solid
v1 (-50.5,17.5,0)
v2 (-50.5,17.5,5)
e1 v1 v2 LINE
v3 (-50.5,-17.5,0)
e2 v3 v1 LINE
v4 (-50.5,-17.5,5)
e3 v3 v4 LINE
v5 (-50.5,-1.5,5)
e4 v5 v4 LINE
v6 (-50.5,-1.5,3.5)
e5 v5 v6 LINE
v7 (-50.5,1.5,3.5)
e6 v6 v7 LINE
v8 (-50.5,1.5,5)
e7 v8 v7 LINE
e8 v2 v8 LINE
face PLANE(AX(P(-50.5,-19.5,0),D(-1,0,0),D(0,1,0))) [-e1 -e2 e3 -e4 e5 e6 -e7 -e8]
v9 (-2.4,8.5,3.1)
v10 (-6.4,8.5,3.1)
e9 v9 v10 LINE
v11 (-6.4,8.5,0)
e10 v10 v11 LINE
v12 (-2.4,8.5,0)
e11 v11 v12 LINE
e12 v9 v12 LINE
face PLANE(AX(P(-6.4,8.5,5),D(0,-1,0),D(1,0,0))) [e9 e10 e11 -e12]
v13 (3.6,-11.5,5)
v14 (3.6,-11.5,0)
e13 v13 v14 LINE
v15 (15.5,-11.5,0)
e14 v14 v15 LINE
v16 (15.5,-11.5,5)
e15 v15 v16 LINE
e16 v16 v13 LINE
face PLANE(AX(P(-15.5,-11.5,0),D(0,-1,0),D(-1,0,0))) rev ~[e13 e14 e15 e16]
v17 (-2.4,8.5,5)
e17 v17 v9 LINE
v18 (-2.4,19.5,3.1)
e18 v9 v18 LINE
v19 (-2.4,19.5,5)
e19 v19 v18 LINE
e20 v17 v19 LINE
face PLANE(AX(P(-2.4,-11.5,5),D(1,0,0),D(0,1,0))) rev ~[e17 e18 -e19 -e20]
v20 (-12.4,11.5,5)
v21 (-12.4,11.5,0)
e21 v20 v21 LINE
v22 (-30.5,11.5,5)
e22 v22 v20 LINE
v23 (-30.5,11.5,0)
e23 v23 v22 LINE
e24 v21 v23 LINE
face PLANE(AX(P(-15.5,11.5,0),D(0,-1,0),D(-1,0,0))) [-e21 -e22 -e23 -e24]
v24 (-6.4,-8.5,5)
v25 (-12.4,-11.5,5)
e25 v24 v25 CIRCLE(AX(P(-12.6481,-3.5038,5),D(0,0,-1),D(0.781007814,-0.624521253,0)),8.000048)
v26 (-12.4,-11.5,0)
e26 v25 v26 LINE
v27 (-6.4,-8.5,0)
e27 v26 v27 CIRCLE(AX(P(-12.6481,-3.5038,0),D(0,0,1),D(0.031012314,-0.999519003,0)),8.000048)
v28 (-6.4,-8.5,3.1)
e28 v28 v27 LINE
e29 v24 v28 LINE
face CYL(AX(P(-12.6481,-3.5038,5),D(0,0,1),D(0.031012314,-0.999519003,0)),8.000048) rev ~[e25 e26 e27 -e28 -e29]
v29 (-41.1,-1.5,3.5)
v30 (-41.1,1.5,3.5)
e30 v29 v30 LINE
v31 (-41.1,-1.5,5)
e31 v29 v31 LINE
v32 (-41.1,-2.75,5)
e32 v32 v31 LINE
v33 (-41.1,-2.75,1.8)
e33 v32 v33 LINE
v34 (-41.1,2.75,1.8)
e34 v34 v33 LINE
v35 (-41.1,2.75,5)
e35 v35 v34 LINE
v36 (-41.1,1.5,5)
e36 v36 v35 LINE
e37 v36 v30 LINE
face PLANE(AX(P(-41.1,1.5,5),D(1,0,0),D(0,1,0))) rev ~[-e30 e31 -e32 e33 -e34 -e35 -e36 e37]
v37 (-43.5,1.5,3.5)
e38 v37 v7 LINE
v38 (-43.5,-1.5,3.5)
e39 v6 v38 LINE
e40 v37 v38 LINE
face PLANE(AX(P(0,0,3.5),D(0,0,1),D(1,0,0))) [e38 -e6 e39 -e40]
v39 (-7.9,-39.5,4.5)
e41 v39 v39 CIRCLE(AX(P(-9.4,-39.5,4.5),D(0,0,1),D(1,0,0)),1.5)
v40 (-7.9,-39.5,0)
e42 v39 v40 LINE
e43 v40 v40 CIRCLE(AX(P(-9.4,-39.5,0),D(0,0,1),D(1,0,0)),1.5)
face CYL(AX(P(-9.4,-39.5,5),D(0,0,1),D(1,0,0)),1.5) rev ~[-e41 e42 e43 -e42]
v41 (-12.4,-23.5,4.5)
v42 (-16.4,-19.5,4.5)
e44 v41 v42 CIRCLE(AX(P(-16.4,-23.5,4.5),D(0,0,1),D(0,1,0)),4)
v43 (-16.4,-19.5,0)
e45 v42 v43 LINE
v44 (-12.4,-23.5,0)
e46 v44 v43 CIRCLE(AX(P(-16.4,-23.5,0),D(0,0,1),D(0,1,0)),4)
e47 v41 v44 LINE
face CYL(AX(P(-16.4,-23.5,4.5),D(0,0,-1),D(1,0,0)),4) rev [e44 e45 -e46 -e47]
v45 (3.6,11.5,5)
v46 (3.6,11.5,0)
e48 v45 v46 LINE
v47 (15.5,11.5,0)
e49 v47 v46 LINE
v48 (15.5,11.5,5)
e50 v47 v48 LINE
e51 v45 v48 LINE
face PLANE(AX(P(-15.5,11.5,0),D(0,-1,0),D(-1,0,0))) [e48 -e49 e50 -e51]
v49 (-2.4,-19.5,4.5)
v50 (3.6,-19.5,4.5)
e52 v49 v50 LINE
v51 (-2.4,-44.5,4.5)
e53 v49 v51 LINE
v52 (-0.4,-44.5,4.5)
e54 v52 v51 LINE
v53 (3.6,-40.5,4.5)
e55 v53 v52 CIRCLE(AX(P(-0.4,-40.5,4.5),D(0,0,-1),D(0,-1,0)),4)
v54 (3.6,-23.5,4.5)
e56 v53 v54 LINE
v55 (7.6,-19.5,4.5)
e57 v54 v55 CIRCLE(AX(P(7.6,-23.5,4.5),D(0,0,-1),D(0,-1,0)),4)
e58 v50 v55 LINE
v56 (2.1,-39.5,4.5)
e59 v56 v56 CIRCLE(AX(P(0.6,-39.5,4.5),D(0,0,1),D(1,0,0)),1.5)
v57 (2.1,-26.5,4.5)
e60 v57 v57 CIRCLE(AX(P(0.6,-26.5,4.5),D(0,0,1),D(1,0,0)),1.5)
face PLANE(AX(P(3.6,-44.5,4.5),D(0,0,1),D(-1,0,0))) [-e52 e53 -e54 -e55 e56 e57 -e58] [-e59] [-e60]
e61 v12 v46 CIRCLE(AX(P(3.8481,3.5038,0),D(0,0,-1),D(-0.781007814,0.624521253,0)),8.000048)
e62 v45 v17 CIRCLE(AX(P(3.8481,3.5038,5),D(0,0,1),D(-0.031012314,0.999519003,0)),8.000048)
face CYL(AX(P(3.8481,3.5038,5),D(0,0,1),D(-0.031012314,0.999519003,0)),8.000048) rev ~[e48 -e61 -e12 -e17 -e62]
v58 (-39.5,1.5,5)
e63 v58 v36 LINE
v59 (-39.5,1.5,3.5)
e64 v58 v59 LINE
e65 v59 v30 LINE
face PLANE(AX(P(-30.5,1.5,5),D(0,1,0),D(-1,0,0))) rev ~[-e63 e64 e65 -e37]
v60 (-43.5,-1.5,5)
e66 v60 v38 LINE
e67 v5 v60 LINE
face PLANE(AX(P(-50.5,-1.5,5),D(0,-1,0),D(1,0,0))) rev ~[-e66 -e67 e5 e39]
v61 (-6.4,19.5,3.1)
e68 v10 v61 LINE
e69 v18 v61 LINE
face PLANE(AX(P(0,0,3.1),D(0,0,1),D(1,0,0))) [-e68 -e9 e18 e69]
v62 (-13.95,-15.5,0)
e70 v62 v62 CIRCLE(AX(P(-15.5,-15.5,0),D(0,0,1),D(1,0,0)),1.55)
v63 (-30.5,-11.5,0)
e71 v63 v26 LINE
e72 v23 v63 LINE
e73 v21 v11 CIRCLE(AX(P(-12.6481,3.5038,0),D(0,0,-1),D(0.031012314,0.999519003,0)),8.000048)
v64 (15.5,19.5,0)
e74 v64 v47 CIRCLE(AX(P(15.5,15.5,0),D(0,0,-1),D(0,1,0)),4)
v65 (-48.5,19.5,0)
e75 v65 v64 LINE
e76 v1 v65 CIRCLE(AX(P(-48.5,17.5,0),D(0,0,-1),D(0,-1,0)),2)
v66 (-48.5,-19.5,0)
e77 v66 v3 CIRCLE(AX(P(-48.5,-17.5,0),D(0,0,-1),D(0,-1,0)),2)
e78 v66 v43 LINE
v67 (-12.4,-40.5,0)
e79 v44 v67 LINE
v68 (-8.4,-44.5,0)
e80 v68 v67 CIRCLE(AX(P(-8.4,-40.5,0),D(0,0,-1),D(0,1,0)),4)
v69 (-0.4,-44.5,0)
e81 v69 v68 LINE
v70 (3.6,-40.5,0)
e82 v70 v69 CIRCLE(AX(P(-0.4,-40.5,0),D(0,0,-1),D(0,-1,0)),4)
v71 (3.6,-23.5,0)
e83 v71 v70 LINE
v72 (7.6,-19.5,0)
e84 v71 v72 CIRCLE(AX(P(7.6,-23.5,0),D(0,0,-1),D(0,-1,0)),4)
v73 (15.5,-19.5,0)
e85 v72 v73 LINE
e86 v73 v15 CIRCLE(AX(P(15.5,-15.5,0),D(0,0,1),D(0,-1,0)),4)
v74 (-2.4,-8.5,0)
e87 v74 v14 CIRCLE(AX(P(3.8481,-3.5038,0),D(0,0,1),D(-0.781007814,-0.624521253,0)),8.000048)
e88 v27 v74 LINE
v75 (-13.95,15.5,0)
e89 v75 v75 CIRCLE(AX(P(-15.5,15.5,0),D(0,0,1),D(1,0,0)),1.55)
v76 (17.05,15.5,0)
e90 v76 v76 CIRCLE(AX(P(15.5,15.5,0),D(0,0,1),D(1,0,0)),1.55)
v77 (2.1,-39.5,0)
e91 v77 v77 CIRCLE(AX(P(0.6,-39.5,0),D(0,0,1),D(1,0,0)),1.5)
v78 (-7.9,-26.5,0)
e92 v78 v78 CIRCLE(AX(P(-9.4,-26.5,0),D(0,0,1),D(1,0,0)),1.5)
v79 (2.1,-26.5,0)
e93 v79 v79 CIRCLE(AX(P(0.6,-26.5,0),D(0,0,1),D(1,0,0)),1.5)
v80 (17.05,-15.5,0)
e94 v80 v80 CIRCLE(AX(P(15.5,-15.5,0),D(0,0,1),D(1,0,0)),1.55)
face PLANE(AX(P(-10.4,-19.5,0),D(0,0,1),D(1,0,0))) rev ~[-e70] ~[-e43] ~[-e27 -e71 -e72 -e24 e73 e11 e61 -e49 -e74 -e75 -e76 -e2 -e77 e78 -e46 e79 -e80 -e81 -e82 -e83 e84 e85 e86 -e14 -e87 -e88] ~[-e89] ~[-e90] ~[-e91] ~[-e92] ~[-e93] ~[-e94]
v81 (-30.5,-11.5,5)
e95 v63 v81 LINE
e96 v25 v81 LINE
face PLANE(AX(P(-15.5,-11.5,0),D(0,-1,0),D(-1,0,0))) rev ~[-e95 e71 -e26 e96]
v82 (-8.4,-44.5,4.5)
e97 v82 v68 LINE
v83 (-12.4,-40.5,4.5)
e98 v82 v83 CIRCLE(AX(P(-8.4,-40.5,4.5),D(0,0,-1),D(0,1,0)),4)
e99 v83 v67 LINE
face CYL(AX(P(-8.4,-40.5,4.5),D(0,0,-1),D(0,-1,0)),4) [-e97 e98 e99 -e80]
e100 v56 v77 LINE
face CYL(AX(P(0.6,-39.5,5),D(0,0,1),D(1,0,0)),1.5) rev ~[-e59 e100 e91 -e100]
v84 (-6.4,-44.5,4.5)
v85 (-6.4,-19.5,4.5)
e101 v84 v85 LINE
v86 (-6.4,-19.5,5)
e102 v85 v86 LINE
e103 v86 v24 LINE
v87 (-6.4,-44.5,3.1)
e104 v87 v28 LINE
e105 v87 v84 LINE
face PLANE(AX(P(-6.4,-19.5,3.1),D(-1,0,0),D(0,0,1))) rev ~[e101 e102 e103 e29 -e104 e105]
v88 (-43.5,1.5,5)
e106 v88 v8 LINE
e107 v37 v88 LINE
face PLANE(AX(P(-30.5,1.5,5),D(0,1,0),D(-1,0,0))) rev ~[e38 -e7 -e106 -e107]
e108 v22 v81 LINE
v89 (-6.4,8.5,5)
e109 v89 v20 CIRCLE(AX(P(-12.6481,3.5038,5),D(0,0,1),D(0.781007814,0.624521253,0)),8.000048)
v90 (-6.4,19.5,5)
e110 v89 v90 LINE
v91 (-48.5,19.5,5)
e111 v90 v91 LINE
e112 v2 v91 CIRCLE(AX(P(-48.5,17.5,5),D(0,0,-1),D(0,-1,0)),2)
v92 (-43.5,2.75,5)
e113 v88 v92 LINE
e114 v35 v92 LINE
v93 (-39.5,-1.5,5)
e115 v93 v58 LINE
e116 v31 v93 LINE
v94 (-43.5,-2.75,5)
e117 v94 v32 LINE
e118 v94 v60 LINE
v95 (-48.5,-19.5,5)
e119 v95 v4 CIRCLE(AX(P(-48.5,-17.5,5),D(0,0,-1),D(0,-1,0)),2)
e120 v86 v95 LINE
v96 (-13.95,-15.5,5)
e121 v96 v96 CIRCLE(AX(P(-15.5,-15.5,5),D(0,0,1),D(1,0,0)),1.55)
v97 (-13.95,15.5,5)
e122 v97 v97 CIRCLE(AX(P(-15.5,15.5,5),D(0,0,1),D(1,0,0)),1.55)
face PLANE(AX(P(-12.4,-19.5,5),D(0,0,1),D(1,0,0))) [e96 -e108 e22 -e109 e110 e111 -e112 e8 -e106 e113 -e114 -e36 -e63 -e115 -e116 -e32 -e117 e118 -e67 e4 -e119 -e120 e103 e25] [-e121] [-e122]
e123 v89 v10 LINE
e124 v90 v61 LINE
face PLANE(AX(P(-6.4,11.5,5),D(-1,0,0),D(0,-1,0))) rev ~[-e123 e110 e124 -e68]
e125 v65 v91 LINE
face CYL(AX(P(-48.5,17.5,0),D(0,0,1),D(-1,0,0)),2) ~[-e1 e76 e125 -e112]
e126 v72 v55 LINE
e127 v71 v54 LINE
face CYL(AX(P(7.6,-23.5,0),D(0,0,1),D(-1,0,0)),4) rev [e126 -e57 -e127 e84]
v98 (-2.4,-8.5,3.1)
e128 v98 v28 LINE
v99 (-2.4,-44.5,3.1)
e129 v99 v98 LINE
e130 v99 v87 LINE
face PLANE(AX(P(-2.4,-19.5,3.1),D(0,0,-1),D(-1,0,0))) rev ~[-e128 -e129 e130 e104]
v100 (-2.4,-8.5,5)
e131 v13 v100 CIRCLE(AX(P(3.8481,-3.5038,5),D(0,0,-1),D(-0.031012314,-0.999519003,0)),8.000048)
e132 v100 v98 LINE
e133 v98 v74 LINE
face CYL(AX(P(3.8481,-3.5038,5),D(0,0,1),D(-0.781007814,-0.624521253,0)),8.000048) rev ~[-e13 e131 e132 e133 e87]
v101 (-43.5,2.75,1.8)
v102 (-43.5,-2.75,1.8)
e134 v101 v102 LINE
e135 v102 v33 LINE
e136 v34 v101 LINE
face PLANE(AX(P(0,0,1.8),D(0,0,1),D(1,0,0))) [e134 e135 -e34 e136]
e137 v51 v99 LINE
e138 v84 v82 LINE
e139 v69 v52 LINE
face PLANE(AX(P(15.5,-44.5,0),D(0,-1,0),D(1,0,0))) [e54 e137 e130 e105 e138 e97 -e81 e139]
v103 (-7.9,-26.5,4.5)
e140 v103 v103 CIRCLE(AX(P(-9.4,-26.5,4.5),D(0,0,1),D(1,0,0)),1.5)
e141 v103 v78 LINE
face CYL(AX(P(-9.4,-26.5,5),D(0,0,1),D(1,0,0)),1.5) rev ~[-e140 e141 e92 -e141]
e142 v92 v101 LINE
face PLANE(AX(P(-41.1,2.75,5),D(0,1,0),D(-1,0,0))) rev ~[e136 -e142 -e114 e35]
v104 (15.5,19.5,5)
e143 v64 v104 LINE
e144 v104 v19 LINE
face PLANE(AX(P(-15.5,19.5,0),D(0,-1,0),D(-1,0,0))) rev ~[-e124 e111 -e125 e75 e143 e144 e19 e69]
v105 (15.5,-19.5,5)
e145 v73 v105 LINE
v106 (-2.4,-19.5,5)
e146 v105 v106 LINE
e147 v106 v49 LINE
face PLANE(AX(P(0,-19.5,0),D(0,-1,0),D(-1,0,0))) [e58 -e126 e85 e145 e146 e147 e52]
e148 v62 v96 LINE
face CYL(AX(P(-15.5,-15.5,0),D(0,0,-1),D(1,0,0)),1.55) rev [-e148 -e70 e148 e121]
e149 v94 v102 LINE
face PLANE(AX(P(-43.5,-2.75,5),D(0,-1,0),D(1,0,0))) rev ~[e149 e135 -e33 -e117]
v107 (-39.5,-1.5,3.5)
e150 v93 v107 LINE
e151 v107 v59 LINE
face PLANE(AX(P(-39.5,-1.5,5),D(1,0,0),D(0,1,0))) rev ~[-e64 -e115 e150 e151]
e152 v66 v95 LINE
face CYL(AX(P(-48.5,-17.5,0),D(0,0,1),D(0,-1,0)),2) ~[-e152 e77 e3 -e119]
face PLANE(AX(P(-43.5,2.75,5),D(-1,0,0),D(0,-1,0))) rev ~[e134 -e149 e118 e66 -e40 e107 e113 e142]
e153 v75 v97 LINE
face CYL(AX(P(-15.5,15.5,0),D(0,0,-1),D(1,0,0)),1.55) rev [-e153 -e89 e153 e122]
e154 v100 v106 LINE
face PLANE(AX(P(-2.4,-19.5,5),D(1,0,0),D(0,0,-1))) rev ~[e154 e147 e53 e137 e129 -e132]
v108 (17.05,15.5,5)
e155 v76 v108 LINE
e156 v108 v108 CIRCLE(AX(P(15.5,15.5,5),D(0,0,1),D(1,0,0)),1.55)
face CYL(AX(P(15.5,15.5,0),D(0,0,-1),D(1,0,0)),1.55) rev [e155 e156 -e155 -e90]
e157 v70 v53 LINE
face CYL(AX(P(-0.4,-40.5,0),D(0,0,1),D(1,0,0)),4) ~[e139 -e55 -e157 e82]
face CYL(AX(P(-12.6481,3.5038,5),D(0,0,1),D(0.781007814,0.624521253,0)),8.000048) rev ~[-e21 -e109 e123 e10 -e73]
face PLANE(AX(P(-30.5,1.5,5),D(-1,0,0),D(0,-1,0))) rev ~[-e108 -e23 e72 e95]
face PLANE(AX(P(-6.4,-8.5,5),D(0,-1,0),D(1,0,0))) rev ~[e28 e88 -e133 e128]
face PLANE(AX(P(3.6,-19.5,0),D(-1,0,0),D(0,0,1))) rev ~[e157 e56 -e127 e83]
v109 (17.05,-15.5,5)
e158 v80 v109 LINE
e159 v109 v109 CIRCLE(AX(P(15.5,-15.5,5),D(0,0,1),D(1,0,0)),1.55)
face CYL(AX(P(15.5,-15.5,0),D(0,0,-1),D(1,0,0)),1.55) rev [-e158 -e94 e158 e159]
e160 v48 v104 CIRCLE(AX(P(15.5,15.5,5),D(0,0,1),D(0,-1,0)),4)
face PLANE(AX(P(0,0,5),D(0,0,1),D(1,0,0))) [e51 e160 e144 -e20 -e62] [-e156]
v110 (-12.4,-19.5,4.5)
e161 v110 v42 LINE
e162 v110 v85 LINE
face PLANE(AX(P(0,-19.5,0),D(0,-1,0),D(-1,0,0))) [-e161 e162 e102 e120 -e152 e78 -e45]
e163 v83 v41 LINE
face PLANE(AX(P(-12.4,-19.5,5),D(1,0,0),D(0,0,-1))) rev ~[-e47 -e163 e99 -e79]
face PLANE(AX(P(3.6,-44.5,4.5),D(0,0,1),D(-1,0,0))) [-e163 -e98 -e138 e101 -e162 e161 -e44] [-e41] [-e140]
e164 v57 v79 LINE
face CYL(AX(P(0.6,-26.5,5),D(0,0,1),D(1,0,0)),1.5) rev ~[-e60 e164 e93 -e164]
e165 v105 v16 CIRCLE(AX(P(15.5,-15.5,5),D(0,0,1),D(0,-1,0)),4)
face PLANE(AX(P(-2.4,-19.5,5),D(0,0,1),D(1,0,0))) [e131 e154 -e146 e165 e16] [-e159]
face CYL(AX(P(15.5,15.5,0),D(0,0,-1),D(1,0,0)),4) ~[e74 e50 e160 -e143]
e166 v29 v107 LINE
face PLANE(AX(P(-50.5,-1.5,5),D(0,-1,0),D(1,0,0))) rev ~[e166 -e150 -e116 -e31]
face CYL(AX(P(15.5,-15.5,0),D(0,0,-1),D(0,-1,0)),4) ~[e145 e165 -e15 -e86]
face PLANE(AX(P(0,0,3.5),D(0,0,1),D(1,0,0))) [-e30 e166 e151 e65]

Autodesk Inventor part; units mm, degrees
ref_plane "YZ Plane" through (0, 0, 0) normal (1, 0, 0) x (0, 1, 0)
ref_plane "XZ Plane" through (0, 0, 0) normal (0, 1, 0) x (-1, 0, 0)
sketch "Skizze1" plane through (0, 0, 0) normal (0, 0, 1) x (1, 0, 0)
  line L0 (0, -27.3) -> (0, 27.3) projected
  line L1 (-71.7, 0) -> (34.7, 0) projected
  circle A0 centre (-15.5, 15.5) radius 1.55
  circle A1 centre (15.5, 15.5) radius 1.55
  circle A2 centre (-15.5, -15.5) radius 1.55
  circle A3 centre (15.5, -15.5) radius 1.55
  circle A4 centre (-16.5, 0) radius 11
  circle A5 centre (0, 0) radius 5.5
  circle A6 centre (-16.5, 0) radius 4
  arc A7 (-16.5, -7.5) -> (-16.5, 7.5) centre (-16.5, 0) ccw
  line L2 (-16.5, 7.5) -> (-36.5, 7.5)
  line L3 (-36.5, 7.5) -> (-56.5, 7.5)
  line L4 (-56.5, 7.5) -> (-56.5, -7.5)
  line L5 (-56.5, -7.5) -> (-16.5, -7.5)
  circle A8 centre (15.5, 15.5) radius 4
  circle A9 centre (-15.5, 15.5) radius 4
  line L6 (15.5, 11.5) -> (-15.5, 11.5)
  line L7 (15.5, 19.5) -> (-15.5, 19.5)
  line L8 (-15.5, 19.5) -> (-50.5, 19.5)
  line L9 (-15.5, 11.5) -> (-30.5, 11.5)
  line L10 (-50.5, 19.5) -> (-50.5, 0)
  line L11 (-30.5, 11.5) -> (-30.5, 0)
  line L12 (-15.5, -19.5) -> (-50.5, -19.5)
  line L13 (-15.5, -11.5) -> (-30.5, -11.5)
  line L14 (-50.5, -19.5) -> (-50.5, 0)
  line L15 (-30.5, -11.5) -> (-30.5, 0)
  line L16 (15.5, -11.5) -> (-15.5, -11.5)
  line L17 (15.5, -19.5) -> (-15.5, -19.5)
  line L18 (-15.5, -11.5) -> (15.5, -11.5)
  line L19 (15.5, -19.5) -> (-15.5, -19.5)
  line L20 (-30.5, -11.5) -> (15.5, -11.5)
  line L21 (15.5, -19.5) -> (-50.5, -19.5)
  arc A10 (15.5, -19.5) -> (15.5, -11.5) centre (15.5, -15.5) ccw
  point P0 (-50.5, 7.5)
  point P1 (-30.5, 7.5)
  dimension "d0" = 3.1
  dimension "d1" = 15.5
  dimension "d2" = 15.5
  dimension "d3" = 22
  dimension "d4" = 16.5
  dimension "d5" = 11
  dimension "d6" = 8
  dimension "d7" = 15
  dimension "d10" = 15
  dimension "d11" = 40
  dimension "d17" = 8
  dimension "d19" = 8
  dimension "d22" = 35
  dimension "d23" = 15
ref_plane "Arbeitsebene1" through (0, 0, 5) normal (0, 0, 1) x (1, 0, 0)
extrude "Extrusion5" add sketch "Skizze1" along normal blind 5 contours L17 L12 L14 L5 L15 L13 L16 L0 | L0 L16 A10 L17 | L14 L1 L15 L5 | L10 L3 L2 L11 L1 | L6 A9 L7 L0 | L0 L7 A8 L6 | L2 L3 L10 L8 A9 L9 L11 | A8 | A9
sketch "Skizze4" plane through (0, 0, 5) normal (0, 0, 1) x (1, 0, 0)
  line L0 (-30.5, 11.5) -> (15.5, 11.5) projected
  arc A0 (15.5, 11.5) -> (15.5, 19.5) centre (15.5, 15.5) ccw projected
  line L1 (15.5, 19.5) -> (-50.5, 19.5) projected
  line L2 (-50.5, 19.5) -> (-50.5, -19.5) projected
  line L3 (-50.5, -19.5) -> (15.5, -19.5) projected
  arc A1 (15.5, -19.5) -> (15.5, -11.5) centre (15.5, -15.5) ccw projected
  line L4 (15.5, -11.5) -> (-30.5, -11.5) projected
  line L5 (-30.5, -11.5) -> (-30.5, 11.5) projected
  circle A2 centre (15.5, 15.5) radius 1.55 projected
  circle A3 centre (15.5, -15.5) radius 1.55 projected
  circle A4 centre (-15.5, -15.5) radius 1.55 projected
  circle A5 centre (-15.5, 15.5) radius 1.55 projected
  line L6 (-64.5, 0) -> (33.5, 0) projected
  line L7 (-30.5, -11.5) -> (-30.5, 11.5) projected
  line L8 (-50.5, -1.5) -> (-30.5, -1.5)
  line L9 (-30.5, -1.5) -> (-30.5, 1.5)
  line L10 (-30.5, 1.5) -> (-50.5, 1.5)
  line L11 (-50.5, 1.5) -> (-50.5, -1.5)
  point P0 (0, 0)
  dimension "d34" = 3
extrude "Extrusion8" cut sketch "Skizze4" against normal blind 1.5 contours L5 L6 L2 L10 | L5 L8 L2 L6
sketch "Skizze5" plane through (0, 0, 5) normal (0, 0, 1) x (1, 0, 0)
  line L0 (-50.5, 1.5) -> (-30.5, 1.5) projected
  line L1 (-30.5, 1.5) -> (-30.5, 11.5) projected
  line L2 (-30.5, 11.5) -> (15.5, 11.5) projected
  arc A0 (15.5, 11.5) -> (15.5, 19.5) centre (15.5, 15.5) ccw projected
  line L3 (15.5, 19.5) -> (-50.5, 19.5) projected
  line L4 (-50.5, 19.5) -> (-50.5, 1.5) projected
  circle A1 centre (15.5, 15.5) radius 1.55 projected
  circle A2 centre (-15.5, 15.5) radius 1.55 projected
  circle A3 centre (-15.5, -15.5) radius 1.55 projected
  circle A4 centre (15.5, -15.5) radius 1.55 projected
  line L5 (-30.5, -1.5) -> (-50.5, -1.5) projected
  line L6 (-50.5, -1.5) -> (-50.5, -19.5) projected
  line L7 (-50.5, -19.5) -> (15.5, -19.5) projected
  arc A5 (15.5, -19.5) -> (15.5, -11.5) centre (15.5, -15.5) ccw projected
  line L8 (15.5, -11.5) -> (-30.5, -11.5) projected
  line L9 (-30.5, -11.5) -> (-30.5, -1.5) projected
  line L10 (-30.5, -1.5) -> (-50.5, -1.5) projected
  line L11 (-30.5, 1.5) -> (-30.5, -1.5) projected
  line L12 (-50.5, 1.5) -> (-30.5, 1.5) projected
  line L13 (-50.5, -1.5) -> (-50.5, 1.5) projected
  line L14 (-64.5, 0) -> (33.5, 0) projected
  line L15 (-43.5, -2.75) -> (-41.1, -2.75)
  line L16 (-41.1, -2.75) -> (-41.1, 2.75)
  line L17 (-41.1, 2.75) -> (-43.5, 2.75)
  line L18 (-43.5, 2.75) -> (-43.5, -2.75)
  point P0 (0, 0)
  dimension "d37" = 2.4
  dimension "d38" = 5.5
  dimension "d39" = 7
extrude "Extrusion9" cut sketch "Skizze5" against normal blind 3.2 contours L18 L17 L16 L0 | L0 L16 L14 L18 | L14 L16 L5 L18 | L5 L16 L15 L18
sketch "Skizze6" plane through (0, 0, 5) normal (0, 0, 1) x (1, 0, 0)
  line L0 (15.5, 19.5) -> (-50.5, 19.5) projected
  line L1 (-50.5, -19.5) -> (15.5, -19.5) projected
  line L2 (-6.4, 19.5) -> (-2.4, 19.5)
  line L3 (-2.4, 19.5) -> (-2.4, -19.5)
  line L4 (-2.4, -19.5) -> (-6.4, -19.5)
  line L5 (-6.4, -19.5) -> (-6.4, 19.5)
  line L6 (-41.1, -1.5) -> (-41.1, -2.75) projected
  line L7 (-41.1, -2.75) -> (-43.5, -2.75) projected
  line L8 (-43.5, -2.75) -> (-43.5, -1.5) projected
  line L9 (-43.5, -1.5) -> (-50.5, -1.5) projected
  line L10 (-50.5, -1.5) -> (-50.5, -19.5) projected
  line L11 (-50.5, -19.5) -> (15.5, -19.5) projected
  arc A0 (15.5, -19.5) -> (15.5, -11.5) centre (15.5, -15.5) ccw projected
  line L12 (15.5, -11.5) -> (-30.5, -11.5) projected
  line L13 (-30.5, -11.5) -> (-30.5, -1.5) projected
  line L14 (-30.5, -1.5) -> (-41.1, -1.5) projected
  circle A1 centre (15.5, -15.5) radius 1.55 projected
  circle A2 centre (-15.5, -15.5) radius 1.55 projected
  line L15 (0, -27.3) -> (0, 27.3) projected
  line L16 (-64.5, 0) -> (33.5, 0) projected
  circle A3 centre (0, 0) radius 3.5191
  dimension "d42" = 4
  dimension "d43" = 2.4
extrude "Extrusion10" cut sketch "Skizze6" against normal blind 1.9 contours L3 A3 L16 L5 L0 | L3 L16 A3 | L16 A3 L3 L12 L5 | L3 A3 L16 | L12 L3 L1 L5
fillet "Rundung1" radius 2 1 edges at (-50.5, -19.5, 2.5)
fillet "Rundung2" radius 2 1 edges at (-50.5, 19.5, 2.5)
sketch "Skizze11" plane through (0, 0, 5) normal (0, 0, 1) x (1, 0, 0)
  line L0 (-2.4, 11.5) -> (-6.4, 11.5) projected
  line L1 (-2.4, 19.5) -> (-2.4, 11.5) projected
  line L2 (-6.4, 19.5) -> (-2.4, 19.5) projected
  line L3 (-6.4, 11.5) -> (-6.4, 19.5) projected
  arc A0 (-48.5, 19.5) -> (-50.5, 17.5) centre (-48.5, 17.5) ccw projected
  line L4 (-50.5, 17.5) -> (-50.5, 1.5) projected
  line L5 (-50.5, 1.5) -> (-43.5, 1.5) projected
  line L6 (-43.5, 1.5) -> (-43.5, 2.75) projected
  line L7 (-43.5, 2.75) -> (-41.1, 2.75) projected
  line L8 (-41.1, 2.75) -> (-41.1, 1.5) projected
  line L9 (-41.1, 1.5) -> (-30.5, 1.5) projected
  line L10 (-30.5, 1.5) -> (-30.5, 11.5) projected
  line L11 (-30.5, 11.5) -> (-6.4, 11.5) projected
  line L12 (-6.4, 11.5) -> (-6.4, 19.5) projected
  line L13 (-6.4, 19.5) -> (-48.5, 19.5) projected
  circle A1 centre (-15.5, 15.5) radius 1.55 projected
  line L14 (-2.4, 19.5) -> (-2.4, 11.5) projected
  line L15 (-2.4, 11.5) -> (15.5, 11.5) projected
  arc A2 (15.5, 11.5) -> (15.5, 19.5) centre (15.5, 15.5) ccw projected
  line L16 (15.5, 19.5) -> (-2.4, 19.5) projected
  circle A3 centre (15.5, 15.5) radius 1.55 projected
  circle A4 centre (-15.5, -15.5) radius 1.55 projected
  arc A5 (-50.5, -17.5) -> (-48.5, -19.5) centre (-48.5, -17.5) ccw projected
  line L17 (-48.5, -19.5) -> (-6.4, -19.5) projected
  line L18 (-6.4, -19.5) -> (-6.4, -11.5) projected
  line L19 (-6.4, -11.5) -> (-30.5, -11.5) projected
  line L20 (-30.5, -11.5) -> (-30.5, -1.5) projected
  line L21 (-30.5, -1.5) -> (-41.1, -1.5) projected
  line L22 (-41.1, -1.5) -> (-41.1, -2.75) projected
  line L23 (-41.1, -2.75) -> (-43.5, -2.75) projected
  line L24 (-43.5, -2.75) -> (-43.5, -1.5) projected
  line L25 (-43.5, -1.5) -> (-50.5, -1.5) projected
  line L26 (-50.5, -1.5) -> (-50.5, -17.5) projected
  line L27 (-6.4, -11.5) -> (-2.4, -11.5) projected
  line L28 (-6.4, -19.5) -> (-6.4, -11.5) projected
  line L29 (-2.4, -19.5) -> (-6.4, -19.5) projected
  line L30 (-2.4, -11.5) -> (-2.4, -19.5) projected
  line L31 (-2.4, -11.5) -> (-2.4, -19.5) projected
  line L32 (-2.4, -19.5) -> (15.5, -19.5) projected
  arc A6 (15.5, -19.5) -> (15.5, -11.5) centre (15.5, -15.5) ccw projected
  line L33 (15.5, -11.5) -> (-2.4, -11.5) projected
  circle A7 centre (15.5, -15.5) radius 1.55 projected
  line L34 (-6.4, 11.5) -> (-6.4, 8.5)
  line L35 (-6.4, 8.5) -> (-2.4, 8.5)
  line L36 (-2.4, 8.5) -> (-2.4, 11.5)
  line L37 (-30.5, 11.5) -> (-6.4, 11.5) projected
  arc A8 (-6.4, 8.5) -> (-12.4, 11.5) centre (-12.6481, 3.5038) ccw
  line L38 (-30.5, 11.5) -> (15.5, 11.5) projected
  arc A9 (3.6, 11.5) -> (-2.4, 8.5) centre (3.8481, 3.5038) ccw
  line L39 (-65.3971, 0) -> (35.9828, 0) projected
  line L40 (-6.4, -11.5) -> (-6.4, -8.5)
  line L41 (-6.4, -8.5) -> (-2.4, -8.5)
  line L42 (-2.4, -8.5) -> (-2.4, -11.5)
  arc A10 (-12.4, -11.5) -> (-6.4, -8.5) centre (-12.6481, -3.5038) ccw
  arc A11 (-2.4, -8.5) -> (3.6, -11.5) centre (3.8481, -3.5038) ccw
  circle A12 centre (0, 0) radius 12 projected
  line L43 (-12.4, 11.5) -> (3.6, 11.5)
  line L44 (-12.4, -11.5) -> (3.6, -11.5)
  line L45 (15.5, -11.5) -> (-30.5, -11.5) projected
  point P0 (0, 0)
  dimension "d61" = 3
  dimension "d62" = 4
  dimension "d63" = 8
  dimension "d64" = 8
  dimension "d65" = 6
  dimension "d66" = 6
extrude "Extrusion13" add sketch "Skizze11" against normal blind 5 contours L36 L35 L34 A12 L0 | L15 A12 A9 L36 | A12 L34 L0 | L15 A9 A12 | L34 A12 A8 L11 | L34 A8 A12 | A12 L33 L42 A11 | A11 L33 A12 | A12 L40 L19 A10 | A10 L40 A12 | L42 L27 A12 L40 L41 | A12 L27 L40
sketch "Skizze12" plane through (0, 0, 5) normal (0, 0, 1) x (1, 0, 0)
  line L0 (-2.4, 11.5) -> (-6.4, 11.5) projected
  line L1 (-2.4, 19.5) -> (-2.4, 11.5) projected
  line L2 (-6.4, 19.5) -> (-2.4, 19.5) projected
  line L3 (-6.4, 11.5) -> (-6.4, 19.5) projected
  line L4 (-6.4, -11.5) -> (-2.4, -11.5) projected
  line L5 (-6.4, -19.5) -> (-6.4, -11.5) projected
  line L6 (-2.4, -19.5) -> (-6.4, -19.5) projected
  line L7 (-2.4, -11.5) -> (-2.4, -19.5) projected
  line L8 (-6.4, -11.5) -> (-2.4, -11.5)
  line L9 (-2.4, -11.5) -> (-2.4, 11.5)
  line L10 (-2.4, 11.5) -> (-6.4, 11.5)
  line L11 (-6.4, 11.5) -> (-6.4, -11.5)
  point P0 (0, 0)
extrude "Extrusion14" cut sketch "Skizze12" against normal blind 1.9 contours L9 L4 L11 L0
sketch "Skizze13" plane through (0, 0, 5) normal (0, 0, 1) x (1, 0, 0)
  line L0 (-41.1, 1.5) -> (-41.1, -1.5) projected
  line L1 (-30.5, -1.5) -> (-41.1, -1.5) projected
  line L2 (-30.5, 1.5) -> (-30.5, -1.5) projected
  line L3 (-41.1, 1.5) -> (-30.5, 1.5) projected
  line L4 (-6.4, -19.5) -> (-6.4, -8.5) projected
  arc A0 (-12.4, -11.5) -> (-6.4, -8.5) centre (-12.6481, -3.5038) ccw projected
  line L5 (-12.4, -11.5) -> (-30.5, -11.5) projected
  line L6 (-30.5, -11.5) -> (-30.5, -1.5) projected
  line L7 (-30.5, -1.5) -> (-41.1, -1.5) projected
  line L8 (-41.1, -1.5) -> (-41.1, -2.75) projected
  line L9 (-41.1, -2.75) -> (-43.5, -2.75) projected
  line L10 (-43.5, -2.75) -> (-43.5, -1.5) projected
  line L11 (-43.5, -1.5) -> (-50.5, -1.5) projected
  line L12 (-50.5, -1.5) -> (-50.5, -17.5) projected
  arc A1 (-50.5, -17.5) -> (-48.5, -19.5) centre (-48.5, -17.5) ccw projected
  line L13 (-48.5, -19.5) -> (-6.4, -19.5) projected
  circle A2 centre (-15.5, -15.5) radius 1.55 projected
  circle A3 centre (-15.5, 15.5) radius 1.55 projected
  line L14 (-6.4, 8.5) -> (-6.4, 19.5) projected
  line L15 (-6.4, 19.5) -> (-48.5, 19.5) projected
  arc A4 (-48.5, 19.5) -> (-50.5, 17.5) centre (-48.5, 17.5) ccw projected
  line L16 (-50.5, 17.5) -> (-50.5, 1.5) projected
  line L17 (-50.5, 1.5) -> (-43.5, 1.5) projected
  line L18 (-43.5, 1.5) -> (-43.5, 2.75) projected
  line L19 (-43.5, 2.75) -> (-41.1, 2.75) projected
  line L20 (-41.1, 2.75) -> (-41.1, 1.5) projected
  line L21 (-41.1, 1.5) -> (-30.5, 1.5) projected
  line L22 (-30.5, 1.5) -> (-30.5, 11.5) projected
  line L23 (-30.5, 11.5) -> (-12.4, 11.5) projected
  arc A5 (-6.4, 8.5) -> (-12.4, 11.5) centre (-12.6481, 3.5038) ccw projected
  line L24 (-41.1, 1.5) -> (-30.5, 1.5) projected
  line L25 (-30.5, -1.5) -> (-39.5, -1.5)
  line L26 (-39.5, -1.5) -> (-39.5, 1.5)
  line L27 (-39.5, 1.5) -> (-30.5, 1.5)
  line L28 (-30.5, 1.5) -> (-30.5, -1.5)
  point P0 (0, 0)
  dimension "d71" = 9
extrude "Extrusion15" add sketch "Skizze13" against normal blind 1.5 contours L3 L2 L1 L26
sketch "Skizze16" plane through (15.5, -19.5, 0) normal (0, -1, 0) x (1, 0, 0)
  line L0 (-11.9, 0) -> (-11.9, 5) projected
  line L1 (-64, 0) -> (-64, 5) projected
  line L2 (-64, 0) -> (0, 0) projected
  line L3 (0, 0) -> (0, 5) projected
  line L4 (-17.9, 5) -> (0, 5) projected
  line L5 (-17.9, 5) -> (-17.9, 3.1) projected
  line L6 (-17.9, 3.1) -> (-21.9, 3.1) projected
  line L7 (-21.9, 3.1) -> (-21.9, 5) projected
  line L8 (-64, 5) -> (-21.9, 5) projected
  line L9 (-17.9, 5) -> (-11.9, 5)
  line L10 (-11.9, 5) -> (-11.9, 0)
  line L11 (-11.9, 0) -> (-25.9, 0)
  line L12 (-64, 0) -> (0, 0) projected
  line L13 (-64, 5) -> (-21.9, 5) projected
  line L14 (-21.9, 5) -> (-27.9, 5)
  line L15 (-27.9, 5) -> (-27.9, 0)
  line L16 (-27.9, 0) -> (-25.9, 0)
  line L17 (-17.9, 5) -> (-17.9, 3.1)
  line L18 (-17.9, 3.1) -> (-21.9, 3.1)
  line L19 (-21.9, 3.1) -> (-21.9, 5)
  point P0 (-15.5, 0)
  dimension "d75" = 6
extrude "Extrusion16" add sketch "Skizze16" along normal blind 25 contours L2 L15 L8 L7 L6 L5 L4 L0
sketch "Skizze17" plane through (0, 0, 5) normal (0, 0, 1) x (1, 0, 0)
  line L0 (-2.4, -8.5) -> (-2.4, -44.5) projected
  line L1 (3.6, -44.5) -> (-2.4, -44.5) projected
  line L2 (3.6, -19.5) -> (3.6, -44.5) projected
  line L3 (3.6, -19.5) -> (15.5, -19.5) projected
  arc A0 (15.5, -19.5) -> (15.5, -11.5) centre (15.5, -15.5) ccw projected
  line L4 (15.5, -11.5) -> (3.6, -11.5) projected
  arc A1 (-2.4, -8.5) -> (3.6, -11.5) centre (3.8481, -3.5038) ccw projected
  circle A2 centre (15.5, -15.5) radius 1.55 projected
  circle A3 centre (-15.5, 15.5) radius 1.55 projected
  line L5 (-6.4, -44.5) -> (-6.4, -8.5) projected
  arc A4 (-12.4, -11.5) -> (-6.4, -8.5) centre (-12.6481, -3.5038) ccw projected
  line L6 (-12.4, -11.5) -> (-30.5, -11.5) projected
  line L7 (-30.5, -11.5) -> (-30.5, 11.5) projected
  line L8 (-30.5, 11.5) -> (-12.4, 11.5) projected
  arc A5 (-6.4, 8.5) -> (-12.4, 11.5) centre (-12.6481, 3.5038) ccw projected
  line L9 (-6.4, 8.5) -> (-6.4, 19.5) projected
  line L10 (-6.4, 19.5) -> (-48.5, 19.5) projected
  arc A6 (-48.5, 19.5) -> (-50.5, 17.5) centre (-48.5, 17.5) ccw projected
  line L11 (-50.5, 17.5) -> (-50.5, 1.5) projected
  line L12 (-50.5, 1.5) -> (-43.5, 1.5) projected
  line L13 (-43.5, 1.5) -> (-43.5, 2.75) projected
  line L14 (-43.5, 2.75) -> (-41.1, 2.75) projected
  line L15 (-41.1, 2.75) -> (-41.1, 1.5) projected
  line L16 (-41.1, 1.5) -> (-39.5, 1.5) projected
  line L17 (-39.5, 1.5) -> (-39.5, -1.5) projected
  line L18 (-39.5, -1.5) -> (-41.1, -1.5) projected
  line L19 (-41.1, -1.5) -> (-41.1, -2.75) projected
  line L20 (-41.1, -2.75) -> (-43.5, -2.75) projected
  line L21 (-43.5, -2.75) -> (-43.5, -1.5) projected
  line L22 (-43.5, -1.5) -> (-50.5, -1.5) projected
  line L23 (-50.5, -1.5) -> (-50.5, -17.5) projected
  arc A7 (-50.5, -17.5) -> (-48.5, -19.5) centre (-48.5, -17.5) ccw projected
  line L24 (-48.5, -19.5) -> (-12.4, -19.5) projected
  line L25 (-12.4, -19.5) -> (-12.4, -44.5) projected
  line L26 (-6.4, -44.5) -> (-12.4, -44.5) projected
  circle A8 centre (-15.5, -15.5) radius 1.55 projected
  circle A9 centre (0.6, -26.5) radius 1.5
  circle A10 centre (-9.4, -26.5) radius 1.5
  circle A11 centre (0.6, -39.5) radius 1.5
  circle A12 centre (-9.4, -39.5) radius 1.5
  point P0 (0, 0)
  dimension "d78" = 3
  dimension "d79" = 3
  dimension "d80" = 3
  dimension "d81" = 3
  dimension "d82" = 18
  dimension "d84" = 3
  dimension "d85" = 3
  dimension "d86" = 5
extrude "Extrusion17" cut sketch "Skizze17" against normal blind 5 contours A9 | A10 | A11 | A12
sketch "Skizze18" plane through (15.5, -44.5, 0) normal (0, -1, 0) x (1, 0, 0)
  line L0 (-11.9, 0) -> (-11.9, 5) projected
  line L1 (-11.9, 5) -> (-17.9, 5) projected
  line L2 (-17.9, 5) -> (-17.9, 3.1) projected
  line L3 (-17.9, 3.1) -> (-21.9, 3.1) projected
  line L4 (-21.9, 3.1) -> (-21.9, 5) projected
  line L5 (-21.9, 5) -> (-27.9, 5) projected
  line L6 (-27.9, 5) -> (-27.9, 0) projected
  line L7 (-27.9, 0) -> (-11.9, 0) projected
  line L8 (-11.9, 5) -> (-11.9, 4.5)
  line L9 (-11.9, 5) -> (-11.9, 0) projected
  line L10 (-11.9, 4.5) -> (-27.9, 4.5)
  line L11 (-27.9, 5) -> (-27.9, 0) projected
  line L12 (-27.9, 4.5) -> (-27.9, 5)
  line L13 (-27.9, 5) -> (-11.9, 5)
  point P0 (-15.5, 0)
  dimension "d89" = 0.5
extrude "Extrusion18" cut sketch "Skizze18" against normal blind 25 contours L10 L2 L1 L0 | L10 L4 L13 L2 | L6 L5 L4 L10
fillet "Rundung3" radius 4 1 edges at (3.6, -19.5, 2.25)
fillet "Rundung4" radius 4 3 edges at (-12.4, -19.5, 2.25) (-12.4, -44.5, 2.25) (3.6, -44.5, 2.25)
properties part number "Drückbrücke_U" material "ABS-Kunststoff"
